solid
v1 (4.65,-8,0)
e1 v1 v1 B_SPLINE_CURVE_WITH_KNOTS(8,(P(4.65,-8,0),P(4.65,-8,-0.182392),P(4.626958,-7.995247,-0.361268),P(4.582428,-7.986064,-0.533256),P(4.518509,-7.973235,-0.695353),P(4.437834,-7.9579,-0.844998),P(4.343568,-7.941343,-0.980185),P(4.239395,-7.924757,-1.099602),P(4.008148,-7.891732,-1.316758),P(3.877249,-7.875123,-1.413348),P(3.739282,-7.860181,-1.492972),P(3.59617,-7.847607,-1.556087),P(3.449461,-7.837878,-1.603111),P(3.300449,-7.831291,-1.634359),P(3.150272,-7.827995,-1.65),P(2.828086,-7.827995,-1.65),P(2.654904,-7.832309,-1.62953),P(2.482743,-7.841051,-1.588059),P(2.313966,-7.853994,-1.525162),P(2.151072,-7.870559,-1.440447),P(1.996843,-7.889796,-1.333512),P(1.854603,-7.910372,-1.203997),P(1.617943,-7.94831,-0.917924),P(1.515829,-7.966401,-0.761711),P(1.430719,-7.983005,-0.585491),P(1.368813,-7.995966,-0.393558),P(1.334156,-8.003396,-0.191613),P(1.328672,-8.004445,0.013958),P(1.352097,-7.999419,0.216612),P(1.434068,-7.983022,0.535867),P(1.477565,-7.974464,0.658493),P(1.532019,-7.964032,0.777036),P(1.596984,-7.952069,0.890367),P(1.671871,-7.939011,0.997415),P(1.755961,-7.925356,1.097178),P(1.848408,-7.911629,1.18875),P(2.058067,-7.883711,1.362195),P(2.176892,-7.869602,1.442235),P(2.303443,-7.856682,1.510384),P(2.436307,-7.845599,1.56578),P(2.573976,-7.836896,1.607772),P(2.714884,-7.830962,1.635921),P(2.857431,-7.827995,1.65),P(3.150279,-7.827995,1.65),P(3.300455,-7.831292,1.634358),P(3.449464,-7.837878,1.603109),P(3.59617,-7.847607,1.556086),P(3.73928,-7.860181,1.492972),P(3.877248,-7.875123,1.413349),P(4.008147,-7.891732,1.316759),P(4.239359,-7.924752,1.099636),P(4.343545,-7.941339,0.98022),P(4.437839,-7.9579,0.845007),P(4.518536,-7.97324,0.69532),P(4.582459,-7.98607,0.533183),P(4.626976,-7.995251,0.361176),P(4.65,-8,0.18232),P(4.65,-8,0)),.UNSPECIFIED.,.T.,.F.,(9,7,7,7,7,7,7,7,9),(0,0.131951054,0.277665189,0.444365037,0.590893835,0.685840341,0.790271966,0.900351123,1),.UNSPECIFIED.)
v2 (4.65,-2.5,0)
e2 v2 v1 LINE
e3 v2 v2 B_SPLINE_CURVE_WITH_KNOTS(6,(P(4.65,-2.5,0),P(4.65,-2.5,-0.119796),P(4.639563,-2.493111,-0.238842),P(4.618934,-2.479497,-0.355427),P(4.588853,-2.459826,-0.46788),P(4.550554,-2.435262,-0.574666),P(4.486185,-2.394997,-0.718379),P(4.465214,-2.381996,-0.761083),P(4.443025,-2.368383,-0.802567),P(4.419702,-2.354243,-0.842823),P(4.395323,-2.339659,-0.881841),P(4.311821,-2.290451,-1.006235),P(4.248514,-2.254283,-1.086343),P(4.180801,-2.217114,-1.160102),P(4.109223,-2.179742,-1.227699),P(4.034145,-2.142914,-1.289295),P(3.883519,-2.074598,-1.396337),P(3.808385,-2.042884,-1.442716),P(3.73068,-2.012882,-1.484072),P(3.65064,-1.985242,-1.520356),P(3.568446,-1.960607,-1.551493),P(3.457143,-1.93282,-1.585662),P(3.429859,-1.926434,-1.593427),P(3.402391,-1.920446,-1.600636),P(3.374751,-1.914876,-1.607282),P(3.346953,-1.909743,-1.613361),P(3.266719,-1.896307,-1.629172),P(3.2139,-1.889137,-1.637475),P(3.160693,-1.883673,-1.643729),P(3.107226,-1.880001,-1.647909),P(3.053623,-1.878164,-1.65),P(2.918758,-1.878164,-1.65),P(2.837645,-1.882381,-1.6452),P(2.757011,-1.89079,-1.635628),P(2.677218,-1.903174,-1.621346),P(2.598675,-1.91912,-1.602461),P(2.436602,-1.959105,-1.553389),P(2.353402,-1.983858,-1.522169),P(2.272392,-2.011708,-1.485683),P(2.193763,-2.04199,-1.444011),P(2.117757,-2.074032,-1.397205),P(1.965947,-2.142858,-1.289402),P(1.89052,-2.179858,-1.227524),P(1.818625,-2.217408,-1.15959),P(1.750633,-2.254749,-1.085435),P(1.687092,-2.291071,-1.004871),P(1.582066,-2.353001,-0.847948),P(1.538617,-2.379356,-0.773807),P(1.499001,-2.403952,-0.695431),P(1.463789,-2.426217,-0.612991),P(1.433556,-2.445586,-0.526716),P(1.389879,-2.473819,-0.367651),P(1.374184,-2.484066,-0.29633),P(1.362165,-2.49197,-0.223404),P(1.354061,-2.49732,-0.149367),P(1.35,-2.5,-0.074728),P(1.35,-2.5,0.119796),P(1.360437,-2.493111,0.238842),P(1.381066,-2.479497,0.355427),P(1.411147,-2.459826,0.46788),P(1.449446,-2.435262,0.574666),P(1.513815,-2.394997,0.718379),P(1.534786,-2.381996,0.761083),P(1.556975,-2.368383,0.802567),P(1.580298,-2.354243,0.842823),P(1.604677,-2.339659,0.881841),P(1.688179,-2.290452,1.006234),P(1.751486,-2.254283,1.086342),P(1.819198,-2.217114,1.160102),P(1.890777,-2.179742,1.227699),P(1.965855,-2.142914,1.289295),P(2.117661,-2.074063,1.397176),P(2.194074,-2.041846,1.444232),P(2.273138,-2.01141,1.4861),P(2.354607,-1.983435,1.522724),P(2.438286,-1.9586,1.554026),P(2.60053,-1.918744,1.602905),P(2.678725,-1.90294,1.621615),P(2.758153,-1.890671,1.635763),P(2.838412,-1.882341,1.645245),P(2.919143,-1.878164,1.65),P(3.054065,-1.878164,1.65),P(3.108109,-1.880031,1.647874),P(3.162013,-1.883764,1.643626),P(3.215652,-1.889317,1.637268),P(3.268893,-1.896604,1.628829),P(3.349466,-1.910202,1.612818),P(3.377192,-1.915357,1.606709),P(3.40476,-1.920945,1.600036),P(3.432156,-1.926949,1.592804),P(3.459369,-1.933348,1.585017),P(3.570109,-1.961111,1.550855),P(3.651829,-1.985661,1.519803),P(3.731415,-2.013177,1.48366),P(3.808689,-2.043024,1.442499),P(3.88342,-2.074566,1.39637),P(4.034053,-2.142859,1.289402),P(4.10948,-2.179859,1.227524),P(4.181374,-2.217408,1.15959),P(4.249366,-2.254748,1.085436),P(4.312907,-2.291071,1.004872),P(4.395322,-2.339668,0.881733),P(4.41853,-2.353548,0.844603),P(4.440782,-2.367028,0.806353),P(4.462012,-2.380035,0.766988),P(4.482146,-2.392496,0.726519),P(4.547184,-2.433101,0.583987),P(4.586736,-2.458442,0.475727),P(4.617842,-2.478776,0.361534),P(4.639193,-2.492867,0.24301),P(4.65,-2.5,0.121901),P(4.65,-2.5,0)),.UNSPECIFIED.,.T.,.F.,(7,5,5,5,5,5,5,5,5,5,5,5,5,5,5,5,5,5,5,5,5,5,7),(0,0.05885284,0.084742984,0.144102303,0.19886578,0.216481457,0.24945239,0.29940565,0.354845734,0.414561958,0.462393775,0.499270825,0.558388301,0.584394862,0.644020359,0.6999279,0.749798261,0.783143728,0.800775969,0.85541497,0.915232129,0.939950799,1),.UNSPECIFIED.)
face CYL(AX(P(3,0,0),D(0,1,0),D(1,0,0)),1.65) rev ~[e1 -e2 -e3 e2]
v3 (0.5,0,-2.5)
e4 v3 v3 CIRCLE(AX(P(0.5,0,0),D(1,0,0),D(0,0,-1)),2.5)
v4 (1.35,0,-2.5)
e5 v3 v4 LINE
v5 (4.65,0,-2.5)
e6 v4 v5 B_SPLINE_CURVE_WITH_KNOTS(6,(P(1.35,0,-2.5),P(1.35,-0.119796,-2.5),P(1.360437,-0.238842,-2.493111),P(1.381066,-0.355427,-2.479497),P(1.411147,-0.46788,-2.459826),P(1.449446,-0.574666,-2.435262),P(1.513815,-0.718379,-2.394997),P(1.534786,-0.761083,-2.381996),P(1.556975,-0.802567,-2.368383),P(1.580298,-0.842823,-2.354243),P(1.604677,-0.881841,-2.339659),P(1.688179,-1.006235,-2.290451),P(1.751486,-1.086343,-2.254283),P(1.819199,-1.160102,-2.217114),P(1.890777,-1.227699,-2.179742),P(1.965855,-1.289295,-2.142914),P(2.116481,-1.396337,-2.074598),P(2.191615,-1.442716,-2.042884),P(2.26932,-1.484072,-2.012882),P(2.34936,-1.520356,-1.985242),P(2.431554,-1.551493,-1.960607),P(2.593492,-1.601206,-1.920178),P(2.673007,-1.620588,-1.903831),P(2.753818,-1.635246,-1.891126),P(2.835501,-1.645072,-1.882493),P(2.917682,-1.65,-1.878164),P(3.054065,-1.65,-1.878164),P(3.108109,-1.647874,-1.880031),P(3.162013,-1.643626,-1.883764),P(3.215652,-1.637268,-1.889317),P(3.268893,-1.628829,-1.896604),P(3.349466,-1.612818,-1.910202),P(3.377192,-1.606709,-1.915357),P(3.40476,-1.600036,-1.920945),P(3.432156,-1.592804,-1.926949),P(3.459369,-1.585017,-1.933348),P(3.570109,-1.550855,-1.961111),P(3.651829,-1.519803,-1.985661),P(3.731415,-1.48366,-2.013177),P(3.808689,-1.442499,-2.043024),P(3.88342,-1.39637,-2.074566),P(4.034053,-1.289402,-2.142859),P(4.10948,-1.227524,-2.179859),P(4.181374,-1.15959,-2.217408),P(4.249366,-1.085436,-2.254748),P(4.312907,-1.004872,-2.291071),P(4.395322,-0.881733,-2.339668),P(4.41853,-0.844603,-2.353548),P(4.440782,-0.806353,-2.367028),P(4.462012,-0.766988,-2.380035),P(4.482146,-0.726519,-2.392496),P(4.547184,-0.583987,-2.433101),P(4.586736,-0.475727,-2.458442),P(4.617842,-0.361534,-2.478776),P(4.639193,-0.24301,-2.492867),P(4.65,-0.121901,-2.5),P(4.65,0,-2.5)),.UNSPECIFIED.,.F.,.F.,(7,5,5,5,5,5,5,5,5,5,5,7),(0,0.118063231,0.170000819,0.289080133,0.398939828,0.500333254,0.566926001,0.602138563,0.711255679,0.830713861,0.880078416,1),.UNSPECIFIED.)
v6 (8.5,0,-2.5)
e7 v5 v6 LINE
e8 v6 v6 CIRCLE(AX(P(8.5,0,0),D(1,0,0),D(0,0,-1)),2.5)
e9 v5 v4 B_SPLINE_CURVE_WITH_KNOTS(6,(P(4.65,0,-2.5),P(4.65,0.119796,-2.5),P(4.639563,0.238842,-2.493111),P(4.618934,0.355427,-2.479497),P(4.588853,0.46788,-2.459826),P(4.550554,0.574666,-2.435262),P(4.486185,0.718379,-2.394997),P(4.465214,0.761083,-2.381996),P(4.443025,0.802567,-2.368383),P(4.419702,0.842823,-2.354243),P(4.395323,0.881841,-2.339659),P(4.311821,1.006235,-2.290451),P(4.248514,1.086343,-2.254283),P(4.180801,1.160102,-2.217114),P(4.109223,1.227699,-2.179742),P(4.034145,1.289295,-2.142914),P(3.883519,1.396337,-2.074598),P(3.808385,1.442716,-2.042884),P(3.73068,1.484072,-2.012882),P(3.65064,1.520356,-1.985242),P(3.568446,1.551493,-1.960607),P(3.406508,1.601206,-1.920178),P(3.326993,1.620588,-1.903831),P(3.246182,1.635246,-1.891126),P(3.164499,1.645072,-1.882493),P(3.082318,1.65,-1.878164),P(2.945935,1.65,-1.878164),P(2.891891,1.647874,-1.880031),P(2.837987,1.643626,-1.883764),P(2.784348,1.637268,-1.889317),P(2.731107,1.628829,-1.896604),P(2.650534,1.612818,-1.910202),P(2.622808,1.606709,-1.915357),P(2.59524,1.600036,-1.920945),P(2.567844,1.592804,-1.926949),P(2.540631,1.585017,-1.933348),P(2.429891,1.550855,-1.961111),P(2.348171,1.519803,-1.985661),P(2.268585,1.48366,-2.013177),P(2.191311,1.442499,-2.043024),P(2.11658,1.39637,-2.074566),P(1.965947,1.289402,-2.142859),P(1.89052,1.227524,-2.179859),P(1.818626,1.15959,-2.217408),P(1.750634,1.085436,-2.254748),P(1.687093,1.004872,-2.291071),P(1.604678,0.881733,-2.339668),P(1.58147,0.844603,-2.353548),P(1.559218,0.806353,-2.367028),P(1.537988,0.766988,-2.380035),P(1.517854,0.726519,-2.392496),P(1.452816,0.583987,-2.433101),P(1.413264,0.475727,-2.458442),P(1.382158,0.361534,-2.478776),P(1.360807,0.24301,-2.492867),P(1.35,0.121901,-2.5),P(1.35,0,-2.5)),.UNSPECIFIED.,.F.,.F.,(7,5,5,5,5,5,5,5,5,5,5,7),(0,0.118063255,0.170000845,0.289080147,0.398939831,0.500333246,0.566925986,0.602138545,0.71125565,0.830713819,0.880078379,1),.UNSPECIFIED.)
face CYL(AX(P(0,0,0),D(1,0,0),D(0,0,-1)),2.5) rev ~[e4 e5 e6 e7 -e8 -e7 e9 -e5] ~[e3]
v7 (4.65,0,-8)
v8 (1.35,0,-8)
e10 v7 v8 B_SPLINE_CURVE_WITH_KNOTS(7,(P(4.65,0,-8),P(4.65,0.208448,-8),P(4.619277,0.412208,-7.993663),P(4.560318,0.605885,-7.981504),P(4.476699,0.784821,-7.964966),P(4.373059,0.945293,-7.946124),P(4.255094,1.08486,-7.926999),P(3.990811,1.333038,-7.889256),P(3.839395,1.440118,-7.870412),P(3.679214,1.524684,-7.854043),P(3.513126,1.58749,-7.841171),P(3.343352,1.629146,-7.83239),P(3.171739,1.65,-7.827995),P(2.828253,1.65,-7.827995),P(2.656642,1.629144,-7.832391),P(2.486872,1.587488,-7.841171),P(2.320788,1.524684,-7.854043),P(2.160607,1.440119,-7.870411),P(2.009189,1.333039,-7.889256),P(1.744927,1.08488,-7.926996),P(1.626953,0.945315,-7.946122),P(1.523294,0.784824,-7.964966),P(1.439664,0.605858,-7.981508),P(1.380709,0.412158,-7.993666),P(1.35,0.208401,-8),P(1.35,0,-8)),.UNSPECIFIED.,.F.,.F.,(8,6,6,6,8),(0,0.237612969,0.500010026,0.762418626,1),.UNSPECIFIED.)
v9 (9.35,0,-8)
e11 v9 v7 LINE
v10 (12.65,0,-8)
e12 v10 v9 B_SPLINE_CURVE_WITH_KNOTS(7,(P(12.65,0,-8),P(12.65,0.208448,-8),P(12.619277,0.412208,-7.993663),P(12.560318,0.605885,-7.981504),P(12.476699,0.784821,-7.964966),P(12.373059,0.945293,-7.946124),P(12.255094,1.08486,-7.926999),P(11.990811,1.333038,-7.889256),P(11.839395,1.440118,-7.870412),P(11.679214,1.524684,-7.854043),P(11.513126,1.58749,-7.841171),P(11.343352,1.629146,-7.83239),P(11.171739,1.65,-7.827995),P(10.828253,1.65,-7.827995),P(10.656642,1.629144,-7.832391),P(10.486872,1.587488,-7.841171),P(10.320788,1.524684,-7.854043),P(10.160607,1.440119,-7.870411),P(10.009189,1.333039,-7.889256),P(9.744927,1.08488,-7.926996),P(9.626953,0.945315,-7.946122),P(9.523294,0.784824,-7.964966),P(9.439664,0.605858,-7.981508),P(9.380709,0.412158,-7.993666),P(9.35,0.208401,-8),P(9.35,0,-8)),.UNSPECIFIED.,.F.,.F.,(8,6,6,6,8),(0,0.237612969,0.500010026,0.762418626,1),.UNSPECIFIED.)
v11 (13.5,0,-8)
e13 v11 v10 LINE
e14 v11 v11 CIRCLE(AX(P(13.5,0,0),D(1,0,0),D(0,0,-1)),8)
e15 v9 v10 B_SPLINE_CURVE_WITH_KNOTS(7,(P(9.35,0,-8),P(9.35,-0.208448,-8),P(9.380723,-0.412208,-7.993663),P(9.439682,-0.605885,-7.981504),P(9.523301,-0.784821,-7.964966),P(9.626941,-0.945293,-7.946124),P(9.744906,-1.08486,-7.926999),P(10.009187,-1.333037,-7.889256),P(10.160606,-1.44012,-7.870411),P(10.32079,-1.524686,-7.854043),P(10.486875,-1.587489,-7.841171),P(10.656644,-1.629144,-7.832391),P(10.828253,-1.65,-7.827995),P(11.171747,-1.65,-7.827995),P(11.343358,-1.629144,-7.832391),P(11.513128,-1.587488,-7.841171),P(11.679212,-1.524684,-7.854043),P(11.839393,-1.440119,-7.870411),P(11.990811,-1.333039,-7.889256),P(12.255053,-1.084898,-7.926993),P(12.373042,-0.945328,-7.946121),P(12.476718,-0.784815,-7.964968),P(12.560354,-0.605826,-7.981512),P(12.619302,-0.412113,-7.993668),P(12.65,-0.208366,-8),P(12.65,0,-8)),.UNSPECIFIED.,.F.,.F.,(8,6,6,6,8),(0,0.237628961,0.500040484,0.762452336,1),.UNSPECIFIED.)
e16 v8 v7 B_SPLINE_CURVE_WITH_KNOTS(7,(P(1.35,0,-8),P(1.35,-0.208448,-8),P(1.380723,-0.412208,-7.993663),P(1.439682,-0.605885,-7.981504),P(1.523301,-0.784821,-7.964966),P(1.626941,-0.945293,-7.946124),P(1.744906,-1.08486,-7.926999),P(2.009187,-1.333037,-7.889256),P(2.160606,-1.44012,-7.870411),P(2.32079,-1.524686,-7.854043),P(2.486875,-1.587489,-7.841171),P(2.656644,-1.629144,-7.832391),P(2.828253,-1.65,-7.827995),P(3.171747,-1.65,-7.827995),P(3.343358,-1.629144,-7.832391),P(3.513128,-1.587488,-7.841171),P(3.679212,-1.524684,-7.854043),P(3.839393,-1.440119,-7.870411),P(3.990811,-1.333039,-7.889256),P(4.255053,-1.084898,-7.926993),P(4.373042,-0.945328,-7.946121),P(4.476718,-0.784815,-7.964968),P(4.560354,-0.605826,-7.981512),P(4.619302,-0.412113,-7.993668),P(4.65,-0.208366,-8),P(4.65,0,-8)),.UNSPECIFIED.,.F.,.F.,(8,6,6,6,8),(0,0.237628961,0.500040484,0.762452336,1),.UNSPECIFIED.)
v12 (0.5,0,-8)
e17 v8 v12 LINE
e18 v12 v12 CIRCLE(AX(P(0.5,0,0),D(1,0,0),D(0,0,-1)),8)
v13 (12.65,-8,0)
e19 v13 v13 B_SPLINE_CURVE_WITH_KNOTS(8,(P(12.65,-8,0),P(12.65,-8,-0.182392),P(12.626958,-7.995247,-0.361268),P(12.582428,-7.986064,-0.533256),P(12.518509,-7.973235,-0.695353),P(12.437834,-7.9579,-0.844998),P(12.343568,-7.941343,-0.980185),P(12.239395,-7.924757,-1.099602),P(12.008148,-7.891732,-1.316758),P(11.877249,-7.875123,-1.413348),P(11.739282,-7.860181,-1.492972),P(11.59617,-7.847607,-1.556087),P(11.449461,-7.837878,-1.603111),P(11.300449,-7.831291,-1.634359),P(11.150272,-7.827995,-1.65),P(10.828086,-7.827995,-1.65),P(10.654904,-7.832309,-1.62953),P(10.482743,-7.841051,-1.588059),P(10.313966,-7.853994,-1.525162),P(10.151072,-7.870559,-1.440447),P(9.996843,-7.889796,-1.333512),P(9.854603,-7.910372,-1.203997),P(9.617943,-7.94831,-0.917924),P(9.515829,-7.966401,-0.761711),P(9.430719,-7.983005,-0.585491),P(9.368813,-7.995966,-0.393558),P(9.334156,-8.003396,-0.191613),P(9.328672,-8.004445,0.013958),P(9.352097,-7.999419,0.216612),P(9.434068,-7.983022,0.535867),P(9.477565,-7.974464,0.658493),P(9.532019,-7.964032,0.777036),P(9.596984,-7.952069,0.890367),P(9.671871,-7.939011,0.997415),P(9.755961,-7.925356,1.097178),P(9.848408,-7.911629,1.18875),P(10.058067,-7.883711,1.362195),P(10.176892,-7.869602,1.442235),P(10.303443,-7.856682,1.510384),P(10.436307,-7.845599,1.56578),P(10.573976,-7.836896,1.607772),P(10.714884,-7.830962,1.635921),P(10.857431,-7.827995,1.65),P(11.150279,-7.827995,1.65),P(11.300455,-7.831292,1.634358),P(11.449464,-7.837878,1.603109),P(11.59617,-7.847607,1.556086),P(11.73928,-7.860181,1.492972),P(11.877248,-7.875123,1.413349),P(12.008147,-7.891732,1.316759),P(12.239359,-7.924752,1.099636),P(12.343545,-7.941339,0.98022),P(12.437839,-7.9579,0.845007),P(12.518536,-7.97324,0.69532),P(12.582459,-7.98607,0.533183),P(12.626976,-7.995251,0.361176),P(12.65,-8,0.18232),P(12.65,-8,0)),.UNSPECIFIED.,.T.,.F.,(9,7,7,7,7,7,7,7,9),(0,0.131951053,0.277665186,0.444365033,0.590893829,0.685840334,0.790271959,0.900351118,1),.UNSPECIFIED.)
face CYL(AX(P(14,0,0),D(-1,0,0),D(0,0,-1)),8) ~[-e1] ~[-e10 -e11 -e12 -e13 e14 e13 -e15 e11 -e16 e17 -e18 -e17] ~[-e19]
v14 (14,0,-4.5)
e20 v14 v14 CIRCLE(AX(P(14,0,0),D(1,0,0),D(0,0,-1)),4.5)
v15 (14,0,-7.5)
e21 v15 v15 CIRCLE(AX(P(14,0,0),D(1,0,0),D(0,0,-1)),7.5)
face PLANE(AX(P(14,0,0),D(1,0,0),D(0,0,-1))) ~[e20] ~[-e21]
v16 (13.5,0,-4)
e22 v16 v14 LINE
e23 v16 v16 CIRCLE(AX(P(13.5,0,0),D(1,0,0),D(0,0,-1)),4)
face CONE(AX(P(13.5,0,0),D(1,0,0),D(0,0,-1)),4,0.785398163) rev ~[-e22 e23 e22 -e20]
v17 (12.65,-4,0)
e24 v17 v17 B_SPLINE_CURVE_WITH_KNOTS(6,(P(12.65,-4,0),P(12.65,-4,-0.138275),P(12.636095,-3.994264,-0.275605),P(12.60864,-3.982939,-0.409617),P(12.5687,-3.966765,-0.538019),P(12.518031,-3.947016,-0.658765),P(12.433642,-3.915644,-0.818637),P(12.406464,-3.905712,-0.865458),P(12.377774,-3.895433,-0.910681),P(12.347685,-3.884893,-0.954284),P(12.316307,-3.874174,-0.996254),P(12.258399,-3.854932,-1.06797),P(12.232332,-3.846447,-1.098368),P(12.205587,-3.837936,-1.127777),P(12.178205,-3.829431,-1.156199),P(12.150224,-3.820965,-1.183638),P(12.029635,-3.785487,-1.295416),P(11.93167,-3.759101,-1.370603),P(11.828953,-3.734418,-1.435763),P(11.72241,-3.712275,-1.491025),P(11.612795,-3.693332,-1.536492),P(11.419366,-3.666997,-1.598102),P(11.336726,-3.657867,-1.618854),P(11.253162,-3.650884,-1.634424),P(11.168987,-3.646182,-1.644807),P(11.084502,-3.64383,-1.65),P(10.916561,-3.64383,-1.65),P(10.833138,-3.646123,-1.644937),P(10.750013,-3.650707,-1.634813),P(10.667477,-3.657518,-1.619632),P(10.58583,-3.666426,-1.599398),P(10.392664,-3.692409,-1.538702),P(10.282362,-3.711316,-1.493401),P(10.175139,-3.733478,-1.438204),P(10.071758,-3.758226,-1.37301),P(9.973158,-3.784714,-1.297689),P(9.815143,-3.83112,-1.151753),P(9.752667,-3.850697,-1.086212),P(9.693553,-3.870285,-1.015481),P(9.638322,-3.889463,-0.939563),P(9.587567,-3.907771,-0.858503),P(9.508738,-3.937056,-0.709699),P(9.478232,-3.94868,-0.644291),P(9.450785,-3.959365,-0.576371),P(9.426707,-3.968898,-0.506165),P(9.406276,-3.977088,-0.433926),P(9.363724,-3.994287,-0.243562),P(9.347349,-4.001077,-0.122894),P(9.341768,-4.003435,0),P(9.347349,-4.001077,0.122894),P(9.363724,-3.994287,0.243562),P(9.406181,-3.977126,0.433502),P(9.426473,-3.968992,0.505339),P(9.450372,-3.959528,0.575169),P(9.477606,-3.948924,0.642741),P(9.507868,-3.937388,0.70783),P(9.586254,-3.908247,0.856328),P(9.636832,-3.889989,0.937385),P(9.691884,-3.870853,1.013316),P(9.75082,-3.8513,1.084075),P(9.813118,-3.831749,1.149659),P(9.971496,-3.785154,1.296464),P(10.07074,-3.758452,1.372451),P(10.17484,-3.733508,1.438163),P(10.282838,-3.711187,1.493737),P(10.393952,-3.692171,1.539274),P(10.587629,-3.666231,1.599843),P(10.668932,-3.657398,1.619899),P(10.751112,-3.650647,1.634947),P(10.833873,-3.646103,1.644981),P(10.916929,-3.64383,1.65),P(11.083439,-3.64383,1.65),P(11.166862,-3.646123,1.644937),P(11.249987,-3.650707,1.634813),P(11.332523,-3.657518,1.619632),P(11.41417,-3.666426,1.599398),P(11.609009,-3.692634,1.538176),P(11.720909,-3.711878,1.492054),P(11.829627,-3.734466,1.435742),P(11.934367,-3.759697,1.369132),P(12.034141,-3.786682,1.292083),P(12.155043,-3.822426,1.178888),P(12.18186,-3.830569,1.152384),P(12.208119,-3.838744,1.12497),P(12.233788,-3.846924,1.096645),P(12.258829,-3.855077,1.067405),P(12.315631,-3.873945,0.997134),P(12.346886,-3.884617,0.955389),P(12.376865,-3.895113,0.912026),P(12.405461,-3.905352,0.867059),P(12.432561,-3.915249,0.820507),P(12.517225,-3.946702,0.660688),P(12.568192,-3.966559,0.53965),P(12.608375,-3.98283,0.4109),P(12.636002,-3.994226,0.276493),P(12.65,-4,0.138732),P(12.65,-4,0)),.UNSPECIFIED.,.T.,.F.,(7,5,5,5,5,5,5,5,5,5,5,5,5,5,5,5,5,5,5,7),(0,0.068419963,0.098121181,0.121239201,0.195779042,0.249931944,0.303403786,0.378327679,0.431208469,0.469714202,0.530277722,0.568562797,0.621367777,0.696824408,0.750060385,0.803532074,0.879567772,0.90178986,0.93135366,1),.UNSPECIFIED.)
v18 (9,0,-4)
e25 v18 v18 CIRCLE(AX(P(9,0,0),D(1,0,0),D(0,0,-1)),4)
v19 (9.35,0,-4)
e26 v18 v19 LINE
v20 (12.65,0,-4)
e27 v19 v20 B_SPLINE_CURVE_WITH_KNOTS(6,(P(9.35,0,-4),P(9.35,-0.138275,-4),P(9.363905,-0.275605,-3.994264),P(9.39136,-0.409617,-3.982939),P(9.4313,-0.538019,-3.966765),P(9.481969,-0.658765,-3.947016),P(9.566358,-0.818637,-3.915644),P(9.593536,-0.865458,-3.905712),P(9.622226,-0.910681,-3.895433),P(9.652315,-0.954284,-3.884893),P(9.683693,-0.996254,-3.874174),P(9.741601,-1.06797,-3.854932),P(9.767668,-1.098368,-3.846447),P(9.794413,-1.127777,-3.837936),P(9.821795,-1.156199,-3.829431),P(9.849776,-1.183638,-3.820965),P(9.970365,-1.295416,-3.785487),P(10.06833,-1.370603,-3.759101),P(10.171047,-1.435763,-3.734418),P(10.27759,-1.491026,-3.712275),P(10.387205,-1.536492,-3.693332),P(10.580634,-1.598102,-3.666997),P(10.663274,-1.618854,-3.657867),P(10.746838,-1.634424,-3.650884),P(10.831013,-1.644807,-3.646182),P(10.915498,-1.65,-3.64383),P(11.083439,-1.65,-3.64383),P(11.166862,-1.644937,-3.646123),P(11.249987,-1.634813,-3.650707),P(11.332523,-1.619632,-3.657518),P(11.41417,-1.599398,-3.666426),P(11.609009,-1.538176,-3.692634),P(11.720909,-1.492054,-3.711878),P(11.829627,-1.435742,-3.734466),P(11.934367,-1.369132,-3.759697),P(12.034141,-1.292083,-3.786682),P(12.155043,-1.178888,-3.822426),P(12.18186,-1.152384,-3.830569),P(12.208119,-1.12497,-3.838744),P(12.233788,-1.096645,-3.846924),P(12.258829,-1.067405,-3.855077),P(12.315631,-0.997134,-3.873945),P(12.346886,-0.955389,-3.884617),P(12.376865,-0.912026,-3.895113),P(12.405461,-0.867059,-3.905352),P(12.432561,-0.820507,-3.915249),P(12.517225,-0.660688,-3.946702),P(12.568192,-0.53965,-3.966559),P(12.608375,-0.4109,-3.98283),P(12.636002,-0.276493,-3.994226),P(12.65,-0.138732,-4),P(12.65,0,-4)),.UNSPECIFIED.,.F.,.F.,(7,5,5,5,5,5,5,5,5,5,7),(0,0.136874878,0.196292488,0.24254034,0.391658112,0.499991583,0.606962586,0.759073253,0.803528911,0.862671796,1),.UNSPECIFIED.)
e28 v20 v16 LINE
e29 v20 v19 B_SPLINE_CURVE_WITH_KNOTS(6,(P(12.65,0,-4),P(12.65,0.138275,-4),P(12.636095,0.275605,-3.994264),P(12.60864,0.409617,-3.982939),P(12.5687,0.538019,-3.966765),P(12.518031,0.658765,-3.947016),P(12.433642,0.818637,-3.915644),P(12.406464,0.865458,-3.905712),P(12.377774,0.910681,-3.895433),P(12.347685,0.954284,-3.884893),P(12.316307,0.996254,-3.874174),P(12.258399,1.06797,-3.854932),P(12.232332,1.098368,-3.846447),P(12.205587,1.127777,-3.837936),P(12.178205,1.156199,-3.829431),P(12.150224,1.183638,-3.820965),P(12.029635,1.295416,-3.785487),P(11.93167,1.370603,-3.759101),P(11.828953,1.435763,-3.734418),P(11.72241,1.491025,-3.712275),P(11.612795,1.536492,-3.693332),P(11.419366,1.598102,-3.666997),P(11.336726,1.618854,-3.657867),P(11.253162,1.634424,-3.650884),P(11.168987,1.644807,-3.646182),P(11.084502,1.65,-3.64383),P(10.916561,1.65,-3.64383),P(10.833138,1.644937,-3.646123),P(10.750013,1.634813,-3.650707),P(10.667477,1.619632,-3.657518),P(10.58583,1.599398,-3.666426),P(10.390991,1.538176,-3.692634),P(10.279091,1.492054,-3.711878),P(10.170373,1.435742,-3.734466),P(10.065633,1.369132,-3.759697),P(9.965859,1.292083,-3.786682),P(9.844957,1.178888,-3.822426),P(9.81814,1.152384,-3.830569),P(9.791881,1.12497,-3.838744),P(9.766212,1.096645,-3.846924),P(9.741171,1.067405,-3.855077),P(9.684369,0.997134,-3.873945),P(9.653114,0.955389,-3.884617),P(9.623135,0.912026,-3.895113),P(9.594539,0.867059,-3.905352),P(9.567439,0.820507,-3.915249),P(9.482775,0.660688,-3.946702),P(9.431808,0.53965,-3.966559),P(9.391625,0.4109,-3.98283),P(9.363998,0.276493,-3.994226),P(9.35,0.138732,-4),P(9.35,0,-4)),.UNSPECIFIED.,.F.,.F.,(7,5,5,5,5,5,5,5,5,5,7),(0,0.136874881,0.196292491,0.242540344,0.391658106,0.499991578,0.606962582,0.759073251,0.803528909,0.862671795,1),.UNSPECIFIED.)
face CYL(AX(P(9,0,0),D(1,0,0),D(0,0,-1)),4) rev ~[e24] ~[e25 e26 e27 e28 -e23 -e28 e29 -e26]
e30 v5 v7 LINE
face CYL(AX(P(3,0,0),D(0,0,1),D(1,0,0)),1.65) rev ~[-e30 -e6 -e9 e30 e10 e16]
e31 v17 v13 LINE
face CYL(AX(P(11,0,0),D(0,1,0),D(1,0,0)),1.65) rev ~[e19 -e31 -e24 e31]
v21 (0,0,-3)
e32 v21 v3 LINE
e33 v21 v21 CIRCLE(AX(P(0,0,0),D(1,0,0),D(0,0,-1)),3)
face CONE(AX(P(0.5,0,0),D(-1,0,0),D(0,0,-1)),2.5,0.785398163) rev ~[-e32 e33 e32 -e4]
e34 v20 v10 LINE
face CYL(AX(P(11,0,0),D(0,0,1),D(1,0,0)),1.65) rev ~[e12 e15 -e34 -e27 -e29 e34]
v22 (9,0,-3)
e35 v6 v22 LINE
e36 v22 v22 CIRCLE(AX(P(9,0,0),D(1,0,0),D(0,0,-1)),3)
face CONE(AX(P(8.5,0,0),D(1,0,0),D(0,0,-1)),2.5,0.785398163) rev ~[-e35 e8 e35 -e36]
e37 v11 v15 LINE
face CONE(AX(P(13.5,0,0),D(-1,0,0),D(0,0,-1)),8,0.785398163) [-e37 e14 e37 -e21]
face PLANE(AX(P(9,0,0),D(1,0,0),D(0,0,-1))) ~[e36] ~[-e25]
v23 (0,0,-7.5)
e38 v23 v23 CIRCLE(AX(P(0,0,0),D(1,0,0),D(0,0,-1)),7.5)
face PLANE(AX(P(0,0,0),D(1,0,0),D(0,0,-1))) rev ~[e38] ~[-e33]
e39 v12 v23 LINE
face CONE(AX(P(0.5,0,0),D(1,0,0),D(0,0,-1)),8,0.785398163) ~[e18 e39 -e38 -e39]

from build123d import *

# Parameters (mm, degrees)
CHAMFER_1_SIZE      = 0.5
SKETCH_2_R          = 1.65
CUT_EXTRUDE_1_DEPTH = 10
SKETCH_3_R          = 1.65
CUT_EXTRUDE_2_DEPTH = 10


with BuildPart() as part:
    # 草图1 → 旋转1 (revolve)
    with BuildSketch(Plane(origin=(0, 0, 0), x_dir=(1, 0, 0), z_dir=(0, 1, 0))):
        Polygon((14, 8), (0, 8), (0, 2.5), (9, 2.5), (9, 4), (14, 4), align=None)
    revolve(axis=Axis((-5, 0, 0), (1, 0, 0)))

    # 倒角1
    chamfer_1_edges = [part.edges().sort_by_distance(p)[0] for p in [
        (14, 0, 4),
        (9, 0, 2.5),
        (0, 0, 2.5),
        (0, 0, 8),
        (14, 0, 8),
    ]]
    chamfer(chamfer_1_edges, length=CHAMFER_1_SIZE)

    # 草图2 → 切除-拉伸1 (cut)
    with BuildSketch(Plane(origin=(0, 0, 0), x_dir=(1, 0, 0), z_dir=(0, 1, 0))):
        with Locations((3, 0)):
            Circle(SKETCH_2_R)
        with Locations((11, 0)):
            Circle(SKETCH_2_R)
    extrude(amount=-CUT_EXTRUDE_1_DEPTH, mode=Mode.SUBTRACT)

    # 草图3 → 切除-拉伸2 (cut)
    with BuildSketch(Plane.XY):
        with Locations((3, 0)):
            Circle(SKETCH_3_R)
        with Locations((11, 0)):
            Circle(SKETCH_3_R)
    extrude(amount=-CUT_EXTRUDE_2_DEPTH, mode=Mode.SUBTRACT)


solid = part.part
